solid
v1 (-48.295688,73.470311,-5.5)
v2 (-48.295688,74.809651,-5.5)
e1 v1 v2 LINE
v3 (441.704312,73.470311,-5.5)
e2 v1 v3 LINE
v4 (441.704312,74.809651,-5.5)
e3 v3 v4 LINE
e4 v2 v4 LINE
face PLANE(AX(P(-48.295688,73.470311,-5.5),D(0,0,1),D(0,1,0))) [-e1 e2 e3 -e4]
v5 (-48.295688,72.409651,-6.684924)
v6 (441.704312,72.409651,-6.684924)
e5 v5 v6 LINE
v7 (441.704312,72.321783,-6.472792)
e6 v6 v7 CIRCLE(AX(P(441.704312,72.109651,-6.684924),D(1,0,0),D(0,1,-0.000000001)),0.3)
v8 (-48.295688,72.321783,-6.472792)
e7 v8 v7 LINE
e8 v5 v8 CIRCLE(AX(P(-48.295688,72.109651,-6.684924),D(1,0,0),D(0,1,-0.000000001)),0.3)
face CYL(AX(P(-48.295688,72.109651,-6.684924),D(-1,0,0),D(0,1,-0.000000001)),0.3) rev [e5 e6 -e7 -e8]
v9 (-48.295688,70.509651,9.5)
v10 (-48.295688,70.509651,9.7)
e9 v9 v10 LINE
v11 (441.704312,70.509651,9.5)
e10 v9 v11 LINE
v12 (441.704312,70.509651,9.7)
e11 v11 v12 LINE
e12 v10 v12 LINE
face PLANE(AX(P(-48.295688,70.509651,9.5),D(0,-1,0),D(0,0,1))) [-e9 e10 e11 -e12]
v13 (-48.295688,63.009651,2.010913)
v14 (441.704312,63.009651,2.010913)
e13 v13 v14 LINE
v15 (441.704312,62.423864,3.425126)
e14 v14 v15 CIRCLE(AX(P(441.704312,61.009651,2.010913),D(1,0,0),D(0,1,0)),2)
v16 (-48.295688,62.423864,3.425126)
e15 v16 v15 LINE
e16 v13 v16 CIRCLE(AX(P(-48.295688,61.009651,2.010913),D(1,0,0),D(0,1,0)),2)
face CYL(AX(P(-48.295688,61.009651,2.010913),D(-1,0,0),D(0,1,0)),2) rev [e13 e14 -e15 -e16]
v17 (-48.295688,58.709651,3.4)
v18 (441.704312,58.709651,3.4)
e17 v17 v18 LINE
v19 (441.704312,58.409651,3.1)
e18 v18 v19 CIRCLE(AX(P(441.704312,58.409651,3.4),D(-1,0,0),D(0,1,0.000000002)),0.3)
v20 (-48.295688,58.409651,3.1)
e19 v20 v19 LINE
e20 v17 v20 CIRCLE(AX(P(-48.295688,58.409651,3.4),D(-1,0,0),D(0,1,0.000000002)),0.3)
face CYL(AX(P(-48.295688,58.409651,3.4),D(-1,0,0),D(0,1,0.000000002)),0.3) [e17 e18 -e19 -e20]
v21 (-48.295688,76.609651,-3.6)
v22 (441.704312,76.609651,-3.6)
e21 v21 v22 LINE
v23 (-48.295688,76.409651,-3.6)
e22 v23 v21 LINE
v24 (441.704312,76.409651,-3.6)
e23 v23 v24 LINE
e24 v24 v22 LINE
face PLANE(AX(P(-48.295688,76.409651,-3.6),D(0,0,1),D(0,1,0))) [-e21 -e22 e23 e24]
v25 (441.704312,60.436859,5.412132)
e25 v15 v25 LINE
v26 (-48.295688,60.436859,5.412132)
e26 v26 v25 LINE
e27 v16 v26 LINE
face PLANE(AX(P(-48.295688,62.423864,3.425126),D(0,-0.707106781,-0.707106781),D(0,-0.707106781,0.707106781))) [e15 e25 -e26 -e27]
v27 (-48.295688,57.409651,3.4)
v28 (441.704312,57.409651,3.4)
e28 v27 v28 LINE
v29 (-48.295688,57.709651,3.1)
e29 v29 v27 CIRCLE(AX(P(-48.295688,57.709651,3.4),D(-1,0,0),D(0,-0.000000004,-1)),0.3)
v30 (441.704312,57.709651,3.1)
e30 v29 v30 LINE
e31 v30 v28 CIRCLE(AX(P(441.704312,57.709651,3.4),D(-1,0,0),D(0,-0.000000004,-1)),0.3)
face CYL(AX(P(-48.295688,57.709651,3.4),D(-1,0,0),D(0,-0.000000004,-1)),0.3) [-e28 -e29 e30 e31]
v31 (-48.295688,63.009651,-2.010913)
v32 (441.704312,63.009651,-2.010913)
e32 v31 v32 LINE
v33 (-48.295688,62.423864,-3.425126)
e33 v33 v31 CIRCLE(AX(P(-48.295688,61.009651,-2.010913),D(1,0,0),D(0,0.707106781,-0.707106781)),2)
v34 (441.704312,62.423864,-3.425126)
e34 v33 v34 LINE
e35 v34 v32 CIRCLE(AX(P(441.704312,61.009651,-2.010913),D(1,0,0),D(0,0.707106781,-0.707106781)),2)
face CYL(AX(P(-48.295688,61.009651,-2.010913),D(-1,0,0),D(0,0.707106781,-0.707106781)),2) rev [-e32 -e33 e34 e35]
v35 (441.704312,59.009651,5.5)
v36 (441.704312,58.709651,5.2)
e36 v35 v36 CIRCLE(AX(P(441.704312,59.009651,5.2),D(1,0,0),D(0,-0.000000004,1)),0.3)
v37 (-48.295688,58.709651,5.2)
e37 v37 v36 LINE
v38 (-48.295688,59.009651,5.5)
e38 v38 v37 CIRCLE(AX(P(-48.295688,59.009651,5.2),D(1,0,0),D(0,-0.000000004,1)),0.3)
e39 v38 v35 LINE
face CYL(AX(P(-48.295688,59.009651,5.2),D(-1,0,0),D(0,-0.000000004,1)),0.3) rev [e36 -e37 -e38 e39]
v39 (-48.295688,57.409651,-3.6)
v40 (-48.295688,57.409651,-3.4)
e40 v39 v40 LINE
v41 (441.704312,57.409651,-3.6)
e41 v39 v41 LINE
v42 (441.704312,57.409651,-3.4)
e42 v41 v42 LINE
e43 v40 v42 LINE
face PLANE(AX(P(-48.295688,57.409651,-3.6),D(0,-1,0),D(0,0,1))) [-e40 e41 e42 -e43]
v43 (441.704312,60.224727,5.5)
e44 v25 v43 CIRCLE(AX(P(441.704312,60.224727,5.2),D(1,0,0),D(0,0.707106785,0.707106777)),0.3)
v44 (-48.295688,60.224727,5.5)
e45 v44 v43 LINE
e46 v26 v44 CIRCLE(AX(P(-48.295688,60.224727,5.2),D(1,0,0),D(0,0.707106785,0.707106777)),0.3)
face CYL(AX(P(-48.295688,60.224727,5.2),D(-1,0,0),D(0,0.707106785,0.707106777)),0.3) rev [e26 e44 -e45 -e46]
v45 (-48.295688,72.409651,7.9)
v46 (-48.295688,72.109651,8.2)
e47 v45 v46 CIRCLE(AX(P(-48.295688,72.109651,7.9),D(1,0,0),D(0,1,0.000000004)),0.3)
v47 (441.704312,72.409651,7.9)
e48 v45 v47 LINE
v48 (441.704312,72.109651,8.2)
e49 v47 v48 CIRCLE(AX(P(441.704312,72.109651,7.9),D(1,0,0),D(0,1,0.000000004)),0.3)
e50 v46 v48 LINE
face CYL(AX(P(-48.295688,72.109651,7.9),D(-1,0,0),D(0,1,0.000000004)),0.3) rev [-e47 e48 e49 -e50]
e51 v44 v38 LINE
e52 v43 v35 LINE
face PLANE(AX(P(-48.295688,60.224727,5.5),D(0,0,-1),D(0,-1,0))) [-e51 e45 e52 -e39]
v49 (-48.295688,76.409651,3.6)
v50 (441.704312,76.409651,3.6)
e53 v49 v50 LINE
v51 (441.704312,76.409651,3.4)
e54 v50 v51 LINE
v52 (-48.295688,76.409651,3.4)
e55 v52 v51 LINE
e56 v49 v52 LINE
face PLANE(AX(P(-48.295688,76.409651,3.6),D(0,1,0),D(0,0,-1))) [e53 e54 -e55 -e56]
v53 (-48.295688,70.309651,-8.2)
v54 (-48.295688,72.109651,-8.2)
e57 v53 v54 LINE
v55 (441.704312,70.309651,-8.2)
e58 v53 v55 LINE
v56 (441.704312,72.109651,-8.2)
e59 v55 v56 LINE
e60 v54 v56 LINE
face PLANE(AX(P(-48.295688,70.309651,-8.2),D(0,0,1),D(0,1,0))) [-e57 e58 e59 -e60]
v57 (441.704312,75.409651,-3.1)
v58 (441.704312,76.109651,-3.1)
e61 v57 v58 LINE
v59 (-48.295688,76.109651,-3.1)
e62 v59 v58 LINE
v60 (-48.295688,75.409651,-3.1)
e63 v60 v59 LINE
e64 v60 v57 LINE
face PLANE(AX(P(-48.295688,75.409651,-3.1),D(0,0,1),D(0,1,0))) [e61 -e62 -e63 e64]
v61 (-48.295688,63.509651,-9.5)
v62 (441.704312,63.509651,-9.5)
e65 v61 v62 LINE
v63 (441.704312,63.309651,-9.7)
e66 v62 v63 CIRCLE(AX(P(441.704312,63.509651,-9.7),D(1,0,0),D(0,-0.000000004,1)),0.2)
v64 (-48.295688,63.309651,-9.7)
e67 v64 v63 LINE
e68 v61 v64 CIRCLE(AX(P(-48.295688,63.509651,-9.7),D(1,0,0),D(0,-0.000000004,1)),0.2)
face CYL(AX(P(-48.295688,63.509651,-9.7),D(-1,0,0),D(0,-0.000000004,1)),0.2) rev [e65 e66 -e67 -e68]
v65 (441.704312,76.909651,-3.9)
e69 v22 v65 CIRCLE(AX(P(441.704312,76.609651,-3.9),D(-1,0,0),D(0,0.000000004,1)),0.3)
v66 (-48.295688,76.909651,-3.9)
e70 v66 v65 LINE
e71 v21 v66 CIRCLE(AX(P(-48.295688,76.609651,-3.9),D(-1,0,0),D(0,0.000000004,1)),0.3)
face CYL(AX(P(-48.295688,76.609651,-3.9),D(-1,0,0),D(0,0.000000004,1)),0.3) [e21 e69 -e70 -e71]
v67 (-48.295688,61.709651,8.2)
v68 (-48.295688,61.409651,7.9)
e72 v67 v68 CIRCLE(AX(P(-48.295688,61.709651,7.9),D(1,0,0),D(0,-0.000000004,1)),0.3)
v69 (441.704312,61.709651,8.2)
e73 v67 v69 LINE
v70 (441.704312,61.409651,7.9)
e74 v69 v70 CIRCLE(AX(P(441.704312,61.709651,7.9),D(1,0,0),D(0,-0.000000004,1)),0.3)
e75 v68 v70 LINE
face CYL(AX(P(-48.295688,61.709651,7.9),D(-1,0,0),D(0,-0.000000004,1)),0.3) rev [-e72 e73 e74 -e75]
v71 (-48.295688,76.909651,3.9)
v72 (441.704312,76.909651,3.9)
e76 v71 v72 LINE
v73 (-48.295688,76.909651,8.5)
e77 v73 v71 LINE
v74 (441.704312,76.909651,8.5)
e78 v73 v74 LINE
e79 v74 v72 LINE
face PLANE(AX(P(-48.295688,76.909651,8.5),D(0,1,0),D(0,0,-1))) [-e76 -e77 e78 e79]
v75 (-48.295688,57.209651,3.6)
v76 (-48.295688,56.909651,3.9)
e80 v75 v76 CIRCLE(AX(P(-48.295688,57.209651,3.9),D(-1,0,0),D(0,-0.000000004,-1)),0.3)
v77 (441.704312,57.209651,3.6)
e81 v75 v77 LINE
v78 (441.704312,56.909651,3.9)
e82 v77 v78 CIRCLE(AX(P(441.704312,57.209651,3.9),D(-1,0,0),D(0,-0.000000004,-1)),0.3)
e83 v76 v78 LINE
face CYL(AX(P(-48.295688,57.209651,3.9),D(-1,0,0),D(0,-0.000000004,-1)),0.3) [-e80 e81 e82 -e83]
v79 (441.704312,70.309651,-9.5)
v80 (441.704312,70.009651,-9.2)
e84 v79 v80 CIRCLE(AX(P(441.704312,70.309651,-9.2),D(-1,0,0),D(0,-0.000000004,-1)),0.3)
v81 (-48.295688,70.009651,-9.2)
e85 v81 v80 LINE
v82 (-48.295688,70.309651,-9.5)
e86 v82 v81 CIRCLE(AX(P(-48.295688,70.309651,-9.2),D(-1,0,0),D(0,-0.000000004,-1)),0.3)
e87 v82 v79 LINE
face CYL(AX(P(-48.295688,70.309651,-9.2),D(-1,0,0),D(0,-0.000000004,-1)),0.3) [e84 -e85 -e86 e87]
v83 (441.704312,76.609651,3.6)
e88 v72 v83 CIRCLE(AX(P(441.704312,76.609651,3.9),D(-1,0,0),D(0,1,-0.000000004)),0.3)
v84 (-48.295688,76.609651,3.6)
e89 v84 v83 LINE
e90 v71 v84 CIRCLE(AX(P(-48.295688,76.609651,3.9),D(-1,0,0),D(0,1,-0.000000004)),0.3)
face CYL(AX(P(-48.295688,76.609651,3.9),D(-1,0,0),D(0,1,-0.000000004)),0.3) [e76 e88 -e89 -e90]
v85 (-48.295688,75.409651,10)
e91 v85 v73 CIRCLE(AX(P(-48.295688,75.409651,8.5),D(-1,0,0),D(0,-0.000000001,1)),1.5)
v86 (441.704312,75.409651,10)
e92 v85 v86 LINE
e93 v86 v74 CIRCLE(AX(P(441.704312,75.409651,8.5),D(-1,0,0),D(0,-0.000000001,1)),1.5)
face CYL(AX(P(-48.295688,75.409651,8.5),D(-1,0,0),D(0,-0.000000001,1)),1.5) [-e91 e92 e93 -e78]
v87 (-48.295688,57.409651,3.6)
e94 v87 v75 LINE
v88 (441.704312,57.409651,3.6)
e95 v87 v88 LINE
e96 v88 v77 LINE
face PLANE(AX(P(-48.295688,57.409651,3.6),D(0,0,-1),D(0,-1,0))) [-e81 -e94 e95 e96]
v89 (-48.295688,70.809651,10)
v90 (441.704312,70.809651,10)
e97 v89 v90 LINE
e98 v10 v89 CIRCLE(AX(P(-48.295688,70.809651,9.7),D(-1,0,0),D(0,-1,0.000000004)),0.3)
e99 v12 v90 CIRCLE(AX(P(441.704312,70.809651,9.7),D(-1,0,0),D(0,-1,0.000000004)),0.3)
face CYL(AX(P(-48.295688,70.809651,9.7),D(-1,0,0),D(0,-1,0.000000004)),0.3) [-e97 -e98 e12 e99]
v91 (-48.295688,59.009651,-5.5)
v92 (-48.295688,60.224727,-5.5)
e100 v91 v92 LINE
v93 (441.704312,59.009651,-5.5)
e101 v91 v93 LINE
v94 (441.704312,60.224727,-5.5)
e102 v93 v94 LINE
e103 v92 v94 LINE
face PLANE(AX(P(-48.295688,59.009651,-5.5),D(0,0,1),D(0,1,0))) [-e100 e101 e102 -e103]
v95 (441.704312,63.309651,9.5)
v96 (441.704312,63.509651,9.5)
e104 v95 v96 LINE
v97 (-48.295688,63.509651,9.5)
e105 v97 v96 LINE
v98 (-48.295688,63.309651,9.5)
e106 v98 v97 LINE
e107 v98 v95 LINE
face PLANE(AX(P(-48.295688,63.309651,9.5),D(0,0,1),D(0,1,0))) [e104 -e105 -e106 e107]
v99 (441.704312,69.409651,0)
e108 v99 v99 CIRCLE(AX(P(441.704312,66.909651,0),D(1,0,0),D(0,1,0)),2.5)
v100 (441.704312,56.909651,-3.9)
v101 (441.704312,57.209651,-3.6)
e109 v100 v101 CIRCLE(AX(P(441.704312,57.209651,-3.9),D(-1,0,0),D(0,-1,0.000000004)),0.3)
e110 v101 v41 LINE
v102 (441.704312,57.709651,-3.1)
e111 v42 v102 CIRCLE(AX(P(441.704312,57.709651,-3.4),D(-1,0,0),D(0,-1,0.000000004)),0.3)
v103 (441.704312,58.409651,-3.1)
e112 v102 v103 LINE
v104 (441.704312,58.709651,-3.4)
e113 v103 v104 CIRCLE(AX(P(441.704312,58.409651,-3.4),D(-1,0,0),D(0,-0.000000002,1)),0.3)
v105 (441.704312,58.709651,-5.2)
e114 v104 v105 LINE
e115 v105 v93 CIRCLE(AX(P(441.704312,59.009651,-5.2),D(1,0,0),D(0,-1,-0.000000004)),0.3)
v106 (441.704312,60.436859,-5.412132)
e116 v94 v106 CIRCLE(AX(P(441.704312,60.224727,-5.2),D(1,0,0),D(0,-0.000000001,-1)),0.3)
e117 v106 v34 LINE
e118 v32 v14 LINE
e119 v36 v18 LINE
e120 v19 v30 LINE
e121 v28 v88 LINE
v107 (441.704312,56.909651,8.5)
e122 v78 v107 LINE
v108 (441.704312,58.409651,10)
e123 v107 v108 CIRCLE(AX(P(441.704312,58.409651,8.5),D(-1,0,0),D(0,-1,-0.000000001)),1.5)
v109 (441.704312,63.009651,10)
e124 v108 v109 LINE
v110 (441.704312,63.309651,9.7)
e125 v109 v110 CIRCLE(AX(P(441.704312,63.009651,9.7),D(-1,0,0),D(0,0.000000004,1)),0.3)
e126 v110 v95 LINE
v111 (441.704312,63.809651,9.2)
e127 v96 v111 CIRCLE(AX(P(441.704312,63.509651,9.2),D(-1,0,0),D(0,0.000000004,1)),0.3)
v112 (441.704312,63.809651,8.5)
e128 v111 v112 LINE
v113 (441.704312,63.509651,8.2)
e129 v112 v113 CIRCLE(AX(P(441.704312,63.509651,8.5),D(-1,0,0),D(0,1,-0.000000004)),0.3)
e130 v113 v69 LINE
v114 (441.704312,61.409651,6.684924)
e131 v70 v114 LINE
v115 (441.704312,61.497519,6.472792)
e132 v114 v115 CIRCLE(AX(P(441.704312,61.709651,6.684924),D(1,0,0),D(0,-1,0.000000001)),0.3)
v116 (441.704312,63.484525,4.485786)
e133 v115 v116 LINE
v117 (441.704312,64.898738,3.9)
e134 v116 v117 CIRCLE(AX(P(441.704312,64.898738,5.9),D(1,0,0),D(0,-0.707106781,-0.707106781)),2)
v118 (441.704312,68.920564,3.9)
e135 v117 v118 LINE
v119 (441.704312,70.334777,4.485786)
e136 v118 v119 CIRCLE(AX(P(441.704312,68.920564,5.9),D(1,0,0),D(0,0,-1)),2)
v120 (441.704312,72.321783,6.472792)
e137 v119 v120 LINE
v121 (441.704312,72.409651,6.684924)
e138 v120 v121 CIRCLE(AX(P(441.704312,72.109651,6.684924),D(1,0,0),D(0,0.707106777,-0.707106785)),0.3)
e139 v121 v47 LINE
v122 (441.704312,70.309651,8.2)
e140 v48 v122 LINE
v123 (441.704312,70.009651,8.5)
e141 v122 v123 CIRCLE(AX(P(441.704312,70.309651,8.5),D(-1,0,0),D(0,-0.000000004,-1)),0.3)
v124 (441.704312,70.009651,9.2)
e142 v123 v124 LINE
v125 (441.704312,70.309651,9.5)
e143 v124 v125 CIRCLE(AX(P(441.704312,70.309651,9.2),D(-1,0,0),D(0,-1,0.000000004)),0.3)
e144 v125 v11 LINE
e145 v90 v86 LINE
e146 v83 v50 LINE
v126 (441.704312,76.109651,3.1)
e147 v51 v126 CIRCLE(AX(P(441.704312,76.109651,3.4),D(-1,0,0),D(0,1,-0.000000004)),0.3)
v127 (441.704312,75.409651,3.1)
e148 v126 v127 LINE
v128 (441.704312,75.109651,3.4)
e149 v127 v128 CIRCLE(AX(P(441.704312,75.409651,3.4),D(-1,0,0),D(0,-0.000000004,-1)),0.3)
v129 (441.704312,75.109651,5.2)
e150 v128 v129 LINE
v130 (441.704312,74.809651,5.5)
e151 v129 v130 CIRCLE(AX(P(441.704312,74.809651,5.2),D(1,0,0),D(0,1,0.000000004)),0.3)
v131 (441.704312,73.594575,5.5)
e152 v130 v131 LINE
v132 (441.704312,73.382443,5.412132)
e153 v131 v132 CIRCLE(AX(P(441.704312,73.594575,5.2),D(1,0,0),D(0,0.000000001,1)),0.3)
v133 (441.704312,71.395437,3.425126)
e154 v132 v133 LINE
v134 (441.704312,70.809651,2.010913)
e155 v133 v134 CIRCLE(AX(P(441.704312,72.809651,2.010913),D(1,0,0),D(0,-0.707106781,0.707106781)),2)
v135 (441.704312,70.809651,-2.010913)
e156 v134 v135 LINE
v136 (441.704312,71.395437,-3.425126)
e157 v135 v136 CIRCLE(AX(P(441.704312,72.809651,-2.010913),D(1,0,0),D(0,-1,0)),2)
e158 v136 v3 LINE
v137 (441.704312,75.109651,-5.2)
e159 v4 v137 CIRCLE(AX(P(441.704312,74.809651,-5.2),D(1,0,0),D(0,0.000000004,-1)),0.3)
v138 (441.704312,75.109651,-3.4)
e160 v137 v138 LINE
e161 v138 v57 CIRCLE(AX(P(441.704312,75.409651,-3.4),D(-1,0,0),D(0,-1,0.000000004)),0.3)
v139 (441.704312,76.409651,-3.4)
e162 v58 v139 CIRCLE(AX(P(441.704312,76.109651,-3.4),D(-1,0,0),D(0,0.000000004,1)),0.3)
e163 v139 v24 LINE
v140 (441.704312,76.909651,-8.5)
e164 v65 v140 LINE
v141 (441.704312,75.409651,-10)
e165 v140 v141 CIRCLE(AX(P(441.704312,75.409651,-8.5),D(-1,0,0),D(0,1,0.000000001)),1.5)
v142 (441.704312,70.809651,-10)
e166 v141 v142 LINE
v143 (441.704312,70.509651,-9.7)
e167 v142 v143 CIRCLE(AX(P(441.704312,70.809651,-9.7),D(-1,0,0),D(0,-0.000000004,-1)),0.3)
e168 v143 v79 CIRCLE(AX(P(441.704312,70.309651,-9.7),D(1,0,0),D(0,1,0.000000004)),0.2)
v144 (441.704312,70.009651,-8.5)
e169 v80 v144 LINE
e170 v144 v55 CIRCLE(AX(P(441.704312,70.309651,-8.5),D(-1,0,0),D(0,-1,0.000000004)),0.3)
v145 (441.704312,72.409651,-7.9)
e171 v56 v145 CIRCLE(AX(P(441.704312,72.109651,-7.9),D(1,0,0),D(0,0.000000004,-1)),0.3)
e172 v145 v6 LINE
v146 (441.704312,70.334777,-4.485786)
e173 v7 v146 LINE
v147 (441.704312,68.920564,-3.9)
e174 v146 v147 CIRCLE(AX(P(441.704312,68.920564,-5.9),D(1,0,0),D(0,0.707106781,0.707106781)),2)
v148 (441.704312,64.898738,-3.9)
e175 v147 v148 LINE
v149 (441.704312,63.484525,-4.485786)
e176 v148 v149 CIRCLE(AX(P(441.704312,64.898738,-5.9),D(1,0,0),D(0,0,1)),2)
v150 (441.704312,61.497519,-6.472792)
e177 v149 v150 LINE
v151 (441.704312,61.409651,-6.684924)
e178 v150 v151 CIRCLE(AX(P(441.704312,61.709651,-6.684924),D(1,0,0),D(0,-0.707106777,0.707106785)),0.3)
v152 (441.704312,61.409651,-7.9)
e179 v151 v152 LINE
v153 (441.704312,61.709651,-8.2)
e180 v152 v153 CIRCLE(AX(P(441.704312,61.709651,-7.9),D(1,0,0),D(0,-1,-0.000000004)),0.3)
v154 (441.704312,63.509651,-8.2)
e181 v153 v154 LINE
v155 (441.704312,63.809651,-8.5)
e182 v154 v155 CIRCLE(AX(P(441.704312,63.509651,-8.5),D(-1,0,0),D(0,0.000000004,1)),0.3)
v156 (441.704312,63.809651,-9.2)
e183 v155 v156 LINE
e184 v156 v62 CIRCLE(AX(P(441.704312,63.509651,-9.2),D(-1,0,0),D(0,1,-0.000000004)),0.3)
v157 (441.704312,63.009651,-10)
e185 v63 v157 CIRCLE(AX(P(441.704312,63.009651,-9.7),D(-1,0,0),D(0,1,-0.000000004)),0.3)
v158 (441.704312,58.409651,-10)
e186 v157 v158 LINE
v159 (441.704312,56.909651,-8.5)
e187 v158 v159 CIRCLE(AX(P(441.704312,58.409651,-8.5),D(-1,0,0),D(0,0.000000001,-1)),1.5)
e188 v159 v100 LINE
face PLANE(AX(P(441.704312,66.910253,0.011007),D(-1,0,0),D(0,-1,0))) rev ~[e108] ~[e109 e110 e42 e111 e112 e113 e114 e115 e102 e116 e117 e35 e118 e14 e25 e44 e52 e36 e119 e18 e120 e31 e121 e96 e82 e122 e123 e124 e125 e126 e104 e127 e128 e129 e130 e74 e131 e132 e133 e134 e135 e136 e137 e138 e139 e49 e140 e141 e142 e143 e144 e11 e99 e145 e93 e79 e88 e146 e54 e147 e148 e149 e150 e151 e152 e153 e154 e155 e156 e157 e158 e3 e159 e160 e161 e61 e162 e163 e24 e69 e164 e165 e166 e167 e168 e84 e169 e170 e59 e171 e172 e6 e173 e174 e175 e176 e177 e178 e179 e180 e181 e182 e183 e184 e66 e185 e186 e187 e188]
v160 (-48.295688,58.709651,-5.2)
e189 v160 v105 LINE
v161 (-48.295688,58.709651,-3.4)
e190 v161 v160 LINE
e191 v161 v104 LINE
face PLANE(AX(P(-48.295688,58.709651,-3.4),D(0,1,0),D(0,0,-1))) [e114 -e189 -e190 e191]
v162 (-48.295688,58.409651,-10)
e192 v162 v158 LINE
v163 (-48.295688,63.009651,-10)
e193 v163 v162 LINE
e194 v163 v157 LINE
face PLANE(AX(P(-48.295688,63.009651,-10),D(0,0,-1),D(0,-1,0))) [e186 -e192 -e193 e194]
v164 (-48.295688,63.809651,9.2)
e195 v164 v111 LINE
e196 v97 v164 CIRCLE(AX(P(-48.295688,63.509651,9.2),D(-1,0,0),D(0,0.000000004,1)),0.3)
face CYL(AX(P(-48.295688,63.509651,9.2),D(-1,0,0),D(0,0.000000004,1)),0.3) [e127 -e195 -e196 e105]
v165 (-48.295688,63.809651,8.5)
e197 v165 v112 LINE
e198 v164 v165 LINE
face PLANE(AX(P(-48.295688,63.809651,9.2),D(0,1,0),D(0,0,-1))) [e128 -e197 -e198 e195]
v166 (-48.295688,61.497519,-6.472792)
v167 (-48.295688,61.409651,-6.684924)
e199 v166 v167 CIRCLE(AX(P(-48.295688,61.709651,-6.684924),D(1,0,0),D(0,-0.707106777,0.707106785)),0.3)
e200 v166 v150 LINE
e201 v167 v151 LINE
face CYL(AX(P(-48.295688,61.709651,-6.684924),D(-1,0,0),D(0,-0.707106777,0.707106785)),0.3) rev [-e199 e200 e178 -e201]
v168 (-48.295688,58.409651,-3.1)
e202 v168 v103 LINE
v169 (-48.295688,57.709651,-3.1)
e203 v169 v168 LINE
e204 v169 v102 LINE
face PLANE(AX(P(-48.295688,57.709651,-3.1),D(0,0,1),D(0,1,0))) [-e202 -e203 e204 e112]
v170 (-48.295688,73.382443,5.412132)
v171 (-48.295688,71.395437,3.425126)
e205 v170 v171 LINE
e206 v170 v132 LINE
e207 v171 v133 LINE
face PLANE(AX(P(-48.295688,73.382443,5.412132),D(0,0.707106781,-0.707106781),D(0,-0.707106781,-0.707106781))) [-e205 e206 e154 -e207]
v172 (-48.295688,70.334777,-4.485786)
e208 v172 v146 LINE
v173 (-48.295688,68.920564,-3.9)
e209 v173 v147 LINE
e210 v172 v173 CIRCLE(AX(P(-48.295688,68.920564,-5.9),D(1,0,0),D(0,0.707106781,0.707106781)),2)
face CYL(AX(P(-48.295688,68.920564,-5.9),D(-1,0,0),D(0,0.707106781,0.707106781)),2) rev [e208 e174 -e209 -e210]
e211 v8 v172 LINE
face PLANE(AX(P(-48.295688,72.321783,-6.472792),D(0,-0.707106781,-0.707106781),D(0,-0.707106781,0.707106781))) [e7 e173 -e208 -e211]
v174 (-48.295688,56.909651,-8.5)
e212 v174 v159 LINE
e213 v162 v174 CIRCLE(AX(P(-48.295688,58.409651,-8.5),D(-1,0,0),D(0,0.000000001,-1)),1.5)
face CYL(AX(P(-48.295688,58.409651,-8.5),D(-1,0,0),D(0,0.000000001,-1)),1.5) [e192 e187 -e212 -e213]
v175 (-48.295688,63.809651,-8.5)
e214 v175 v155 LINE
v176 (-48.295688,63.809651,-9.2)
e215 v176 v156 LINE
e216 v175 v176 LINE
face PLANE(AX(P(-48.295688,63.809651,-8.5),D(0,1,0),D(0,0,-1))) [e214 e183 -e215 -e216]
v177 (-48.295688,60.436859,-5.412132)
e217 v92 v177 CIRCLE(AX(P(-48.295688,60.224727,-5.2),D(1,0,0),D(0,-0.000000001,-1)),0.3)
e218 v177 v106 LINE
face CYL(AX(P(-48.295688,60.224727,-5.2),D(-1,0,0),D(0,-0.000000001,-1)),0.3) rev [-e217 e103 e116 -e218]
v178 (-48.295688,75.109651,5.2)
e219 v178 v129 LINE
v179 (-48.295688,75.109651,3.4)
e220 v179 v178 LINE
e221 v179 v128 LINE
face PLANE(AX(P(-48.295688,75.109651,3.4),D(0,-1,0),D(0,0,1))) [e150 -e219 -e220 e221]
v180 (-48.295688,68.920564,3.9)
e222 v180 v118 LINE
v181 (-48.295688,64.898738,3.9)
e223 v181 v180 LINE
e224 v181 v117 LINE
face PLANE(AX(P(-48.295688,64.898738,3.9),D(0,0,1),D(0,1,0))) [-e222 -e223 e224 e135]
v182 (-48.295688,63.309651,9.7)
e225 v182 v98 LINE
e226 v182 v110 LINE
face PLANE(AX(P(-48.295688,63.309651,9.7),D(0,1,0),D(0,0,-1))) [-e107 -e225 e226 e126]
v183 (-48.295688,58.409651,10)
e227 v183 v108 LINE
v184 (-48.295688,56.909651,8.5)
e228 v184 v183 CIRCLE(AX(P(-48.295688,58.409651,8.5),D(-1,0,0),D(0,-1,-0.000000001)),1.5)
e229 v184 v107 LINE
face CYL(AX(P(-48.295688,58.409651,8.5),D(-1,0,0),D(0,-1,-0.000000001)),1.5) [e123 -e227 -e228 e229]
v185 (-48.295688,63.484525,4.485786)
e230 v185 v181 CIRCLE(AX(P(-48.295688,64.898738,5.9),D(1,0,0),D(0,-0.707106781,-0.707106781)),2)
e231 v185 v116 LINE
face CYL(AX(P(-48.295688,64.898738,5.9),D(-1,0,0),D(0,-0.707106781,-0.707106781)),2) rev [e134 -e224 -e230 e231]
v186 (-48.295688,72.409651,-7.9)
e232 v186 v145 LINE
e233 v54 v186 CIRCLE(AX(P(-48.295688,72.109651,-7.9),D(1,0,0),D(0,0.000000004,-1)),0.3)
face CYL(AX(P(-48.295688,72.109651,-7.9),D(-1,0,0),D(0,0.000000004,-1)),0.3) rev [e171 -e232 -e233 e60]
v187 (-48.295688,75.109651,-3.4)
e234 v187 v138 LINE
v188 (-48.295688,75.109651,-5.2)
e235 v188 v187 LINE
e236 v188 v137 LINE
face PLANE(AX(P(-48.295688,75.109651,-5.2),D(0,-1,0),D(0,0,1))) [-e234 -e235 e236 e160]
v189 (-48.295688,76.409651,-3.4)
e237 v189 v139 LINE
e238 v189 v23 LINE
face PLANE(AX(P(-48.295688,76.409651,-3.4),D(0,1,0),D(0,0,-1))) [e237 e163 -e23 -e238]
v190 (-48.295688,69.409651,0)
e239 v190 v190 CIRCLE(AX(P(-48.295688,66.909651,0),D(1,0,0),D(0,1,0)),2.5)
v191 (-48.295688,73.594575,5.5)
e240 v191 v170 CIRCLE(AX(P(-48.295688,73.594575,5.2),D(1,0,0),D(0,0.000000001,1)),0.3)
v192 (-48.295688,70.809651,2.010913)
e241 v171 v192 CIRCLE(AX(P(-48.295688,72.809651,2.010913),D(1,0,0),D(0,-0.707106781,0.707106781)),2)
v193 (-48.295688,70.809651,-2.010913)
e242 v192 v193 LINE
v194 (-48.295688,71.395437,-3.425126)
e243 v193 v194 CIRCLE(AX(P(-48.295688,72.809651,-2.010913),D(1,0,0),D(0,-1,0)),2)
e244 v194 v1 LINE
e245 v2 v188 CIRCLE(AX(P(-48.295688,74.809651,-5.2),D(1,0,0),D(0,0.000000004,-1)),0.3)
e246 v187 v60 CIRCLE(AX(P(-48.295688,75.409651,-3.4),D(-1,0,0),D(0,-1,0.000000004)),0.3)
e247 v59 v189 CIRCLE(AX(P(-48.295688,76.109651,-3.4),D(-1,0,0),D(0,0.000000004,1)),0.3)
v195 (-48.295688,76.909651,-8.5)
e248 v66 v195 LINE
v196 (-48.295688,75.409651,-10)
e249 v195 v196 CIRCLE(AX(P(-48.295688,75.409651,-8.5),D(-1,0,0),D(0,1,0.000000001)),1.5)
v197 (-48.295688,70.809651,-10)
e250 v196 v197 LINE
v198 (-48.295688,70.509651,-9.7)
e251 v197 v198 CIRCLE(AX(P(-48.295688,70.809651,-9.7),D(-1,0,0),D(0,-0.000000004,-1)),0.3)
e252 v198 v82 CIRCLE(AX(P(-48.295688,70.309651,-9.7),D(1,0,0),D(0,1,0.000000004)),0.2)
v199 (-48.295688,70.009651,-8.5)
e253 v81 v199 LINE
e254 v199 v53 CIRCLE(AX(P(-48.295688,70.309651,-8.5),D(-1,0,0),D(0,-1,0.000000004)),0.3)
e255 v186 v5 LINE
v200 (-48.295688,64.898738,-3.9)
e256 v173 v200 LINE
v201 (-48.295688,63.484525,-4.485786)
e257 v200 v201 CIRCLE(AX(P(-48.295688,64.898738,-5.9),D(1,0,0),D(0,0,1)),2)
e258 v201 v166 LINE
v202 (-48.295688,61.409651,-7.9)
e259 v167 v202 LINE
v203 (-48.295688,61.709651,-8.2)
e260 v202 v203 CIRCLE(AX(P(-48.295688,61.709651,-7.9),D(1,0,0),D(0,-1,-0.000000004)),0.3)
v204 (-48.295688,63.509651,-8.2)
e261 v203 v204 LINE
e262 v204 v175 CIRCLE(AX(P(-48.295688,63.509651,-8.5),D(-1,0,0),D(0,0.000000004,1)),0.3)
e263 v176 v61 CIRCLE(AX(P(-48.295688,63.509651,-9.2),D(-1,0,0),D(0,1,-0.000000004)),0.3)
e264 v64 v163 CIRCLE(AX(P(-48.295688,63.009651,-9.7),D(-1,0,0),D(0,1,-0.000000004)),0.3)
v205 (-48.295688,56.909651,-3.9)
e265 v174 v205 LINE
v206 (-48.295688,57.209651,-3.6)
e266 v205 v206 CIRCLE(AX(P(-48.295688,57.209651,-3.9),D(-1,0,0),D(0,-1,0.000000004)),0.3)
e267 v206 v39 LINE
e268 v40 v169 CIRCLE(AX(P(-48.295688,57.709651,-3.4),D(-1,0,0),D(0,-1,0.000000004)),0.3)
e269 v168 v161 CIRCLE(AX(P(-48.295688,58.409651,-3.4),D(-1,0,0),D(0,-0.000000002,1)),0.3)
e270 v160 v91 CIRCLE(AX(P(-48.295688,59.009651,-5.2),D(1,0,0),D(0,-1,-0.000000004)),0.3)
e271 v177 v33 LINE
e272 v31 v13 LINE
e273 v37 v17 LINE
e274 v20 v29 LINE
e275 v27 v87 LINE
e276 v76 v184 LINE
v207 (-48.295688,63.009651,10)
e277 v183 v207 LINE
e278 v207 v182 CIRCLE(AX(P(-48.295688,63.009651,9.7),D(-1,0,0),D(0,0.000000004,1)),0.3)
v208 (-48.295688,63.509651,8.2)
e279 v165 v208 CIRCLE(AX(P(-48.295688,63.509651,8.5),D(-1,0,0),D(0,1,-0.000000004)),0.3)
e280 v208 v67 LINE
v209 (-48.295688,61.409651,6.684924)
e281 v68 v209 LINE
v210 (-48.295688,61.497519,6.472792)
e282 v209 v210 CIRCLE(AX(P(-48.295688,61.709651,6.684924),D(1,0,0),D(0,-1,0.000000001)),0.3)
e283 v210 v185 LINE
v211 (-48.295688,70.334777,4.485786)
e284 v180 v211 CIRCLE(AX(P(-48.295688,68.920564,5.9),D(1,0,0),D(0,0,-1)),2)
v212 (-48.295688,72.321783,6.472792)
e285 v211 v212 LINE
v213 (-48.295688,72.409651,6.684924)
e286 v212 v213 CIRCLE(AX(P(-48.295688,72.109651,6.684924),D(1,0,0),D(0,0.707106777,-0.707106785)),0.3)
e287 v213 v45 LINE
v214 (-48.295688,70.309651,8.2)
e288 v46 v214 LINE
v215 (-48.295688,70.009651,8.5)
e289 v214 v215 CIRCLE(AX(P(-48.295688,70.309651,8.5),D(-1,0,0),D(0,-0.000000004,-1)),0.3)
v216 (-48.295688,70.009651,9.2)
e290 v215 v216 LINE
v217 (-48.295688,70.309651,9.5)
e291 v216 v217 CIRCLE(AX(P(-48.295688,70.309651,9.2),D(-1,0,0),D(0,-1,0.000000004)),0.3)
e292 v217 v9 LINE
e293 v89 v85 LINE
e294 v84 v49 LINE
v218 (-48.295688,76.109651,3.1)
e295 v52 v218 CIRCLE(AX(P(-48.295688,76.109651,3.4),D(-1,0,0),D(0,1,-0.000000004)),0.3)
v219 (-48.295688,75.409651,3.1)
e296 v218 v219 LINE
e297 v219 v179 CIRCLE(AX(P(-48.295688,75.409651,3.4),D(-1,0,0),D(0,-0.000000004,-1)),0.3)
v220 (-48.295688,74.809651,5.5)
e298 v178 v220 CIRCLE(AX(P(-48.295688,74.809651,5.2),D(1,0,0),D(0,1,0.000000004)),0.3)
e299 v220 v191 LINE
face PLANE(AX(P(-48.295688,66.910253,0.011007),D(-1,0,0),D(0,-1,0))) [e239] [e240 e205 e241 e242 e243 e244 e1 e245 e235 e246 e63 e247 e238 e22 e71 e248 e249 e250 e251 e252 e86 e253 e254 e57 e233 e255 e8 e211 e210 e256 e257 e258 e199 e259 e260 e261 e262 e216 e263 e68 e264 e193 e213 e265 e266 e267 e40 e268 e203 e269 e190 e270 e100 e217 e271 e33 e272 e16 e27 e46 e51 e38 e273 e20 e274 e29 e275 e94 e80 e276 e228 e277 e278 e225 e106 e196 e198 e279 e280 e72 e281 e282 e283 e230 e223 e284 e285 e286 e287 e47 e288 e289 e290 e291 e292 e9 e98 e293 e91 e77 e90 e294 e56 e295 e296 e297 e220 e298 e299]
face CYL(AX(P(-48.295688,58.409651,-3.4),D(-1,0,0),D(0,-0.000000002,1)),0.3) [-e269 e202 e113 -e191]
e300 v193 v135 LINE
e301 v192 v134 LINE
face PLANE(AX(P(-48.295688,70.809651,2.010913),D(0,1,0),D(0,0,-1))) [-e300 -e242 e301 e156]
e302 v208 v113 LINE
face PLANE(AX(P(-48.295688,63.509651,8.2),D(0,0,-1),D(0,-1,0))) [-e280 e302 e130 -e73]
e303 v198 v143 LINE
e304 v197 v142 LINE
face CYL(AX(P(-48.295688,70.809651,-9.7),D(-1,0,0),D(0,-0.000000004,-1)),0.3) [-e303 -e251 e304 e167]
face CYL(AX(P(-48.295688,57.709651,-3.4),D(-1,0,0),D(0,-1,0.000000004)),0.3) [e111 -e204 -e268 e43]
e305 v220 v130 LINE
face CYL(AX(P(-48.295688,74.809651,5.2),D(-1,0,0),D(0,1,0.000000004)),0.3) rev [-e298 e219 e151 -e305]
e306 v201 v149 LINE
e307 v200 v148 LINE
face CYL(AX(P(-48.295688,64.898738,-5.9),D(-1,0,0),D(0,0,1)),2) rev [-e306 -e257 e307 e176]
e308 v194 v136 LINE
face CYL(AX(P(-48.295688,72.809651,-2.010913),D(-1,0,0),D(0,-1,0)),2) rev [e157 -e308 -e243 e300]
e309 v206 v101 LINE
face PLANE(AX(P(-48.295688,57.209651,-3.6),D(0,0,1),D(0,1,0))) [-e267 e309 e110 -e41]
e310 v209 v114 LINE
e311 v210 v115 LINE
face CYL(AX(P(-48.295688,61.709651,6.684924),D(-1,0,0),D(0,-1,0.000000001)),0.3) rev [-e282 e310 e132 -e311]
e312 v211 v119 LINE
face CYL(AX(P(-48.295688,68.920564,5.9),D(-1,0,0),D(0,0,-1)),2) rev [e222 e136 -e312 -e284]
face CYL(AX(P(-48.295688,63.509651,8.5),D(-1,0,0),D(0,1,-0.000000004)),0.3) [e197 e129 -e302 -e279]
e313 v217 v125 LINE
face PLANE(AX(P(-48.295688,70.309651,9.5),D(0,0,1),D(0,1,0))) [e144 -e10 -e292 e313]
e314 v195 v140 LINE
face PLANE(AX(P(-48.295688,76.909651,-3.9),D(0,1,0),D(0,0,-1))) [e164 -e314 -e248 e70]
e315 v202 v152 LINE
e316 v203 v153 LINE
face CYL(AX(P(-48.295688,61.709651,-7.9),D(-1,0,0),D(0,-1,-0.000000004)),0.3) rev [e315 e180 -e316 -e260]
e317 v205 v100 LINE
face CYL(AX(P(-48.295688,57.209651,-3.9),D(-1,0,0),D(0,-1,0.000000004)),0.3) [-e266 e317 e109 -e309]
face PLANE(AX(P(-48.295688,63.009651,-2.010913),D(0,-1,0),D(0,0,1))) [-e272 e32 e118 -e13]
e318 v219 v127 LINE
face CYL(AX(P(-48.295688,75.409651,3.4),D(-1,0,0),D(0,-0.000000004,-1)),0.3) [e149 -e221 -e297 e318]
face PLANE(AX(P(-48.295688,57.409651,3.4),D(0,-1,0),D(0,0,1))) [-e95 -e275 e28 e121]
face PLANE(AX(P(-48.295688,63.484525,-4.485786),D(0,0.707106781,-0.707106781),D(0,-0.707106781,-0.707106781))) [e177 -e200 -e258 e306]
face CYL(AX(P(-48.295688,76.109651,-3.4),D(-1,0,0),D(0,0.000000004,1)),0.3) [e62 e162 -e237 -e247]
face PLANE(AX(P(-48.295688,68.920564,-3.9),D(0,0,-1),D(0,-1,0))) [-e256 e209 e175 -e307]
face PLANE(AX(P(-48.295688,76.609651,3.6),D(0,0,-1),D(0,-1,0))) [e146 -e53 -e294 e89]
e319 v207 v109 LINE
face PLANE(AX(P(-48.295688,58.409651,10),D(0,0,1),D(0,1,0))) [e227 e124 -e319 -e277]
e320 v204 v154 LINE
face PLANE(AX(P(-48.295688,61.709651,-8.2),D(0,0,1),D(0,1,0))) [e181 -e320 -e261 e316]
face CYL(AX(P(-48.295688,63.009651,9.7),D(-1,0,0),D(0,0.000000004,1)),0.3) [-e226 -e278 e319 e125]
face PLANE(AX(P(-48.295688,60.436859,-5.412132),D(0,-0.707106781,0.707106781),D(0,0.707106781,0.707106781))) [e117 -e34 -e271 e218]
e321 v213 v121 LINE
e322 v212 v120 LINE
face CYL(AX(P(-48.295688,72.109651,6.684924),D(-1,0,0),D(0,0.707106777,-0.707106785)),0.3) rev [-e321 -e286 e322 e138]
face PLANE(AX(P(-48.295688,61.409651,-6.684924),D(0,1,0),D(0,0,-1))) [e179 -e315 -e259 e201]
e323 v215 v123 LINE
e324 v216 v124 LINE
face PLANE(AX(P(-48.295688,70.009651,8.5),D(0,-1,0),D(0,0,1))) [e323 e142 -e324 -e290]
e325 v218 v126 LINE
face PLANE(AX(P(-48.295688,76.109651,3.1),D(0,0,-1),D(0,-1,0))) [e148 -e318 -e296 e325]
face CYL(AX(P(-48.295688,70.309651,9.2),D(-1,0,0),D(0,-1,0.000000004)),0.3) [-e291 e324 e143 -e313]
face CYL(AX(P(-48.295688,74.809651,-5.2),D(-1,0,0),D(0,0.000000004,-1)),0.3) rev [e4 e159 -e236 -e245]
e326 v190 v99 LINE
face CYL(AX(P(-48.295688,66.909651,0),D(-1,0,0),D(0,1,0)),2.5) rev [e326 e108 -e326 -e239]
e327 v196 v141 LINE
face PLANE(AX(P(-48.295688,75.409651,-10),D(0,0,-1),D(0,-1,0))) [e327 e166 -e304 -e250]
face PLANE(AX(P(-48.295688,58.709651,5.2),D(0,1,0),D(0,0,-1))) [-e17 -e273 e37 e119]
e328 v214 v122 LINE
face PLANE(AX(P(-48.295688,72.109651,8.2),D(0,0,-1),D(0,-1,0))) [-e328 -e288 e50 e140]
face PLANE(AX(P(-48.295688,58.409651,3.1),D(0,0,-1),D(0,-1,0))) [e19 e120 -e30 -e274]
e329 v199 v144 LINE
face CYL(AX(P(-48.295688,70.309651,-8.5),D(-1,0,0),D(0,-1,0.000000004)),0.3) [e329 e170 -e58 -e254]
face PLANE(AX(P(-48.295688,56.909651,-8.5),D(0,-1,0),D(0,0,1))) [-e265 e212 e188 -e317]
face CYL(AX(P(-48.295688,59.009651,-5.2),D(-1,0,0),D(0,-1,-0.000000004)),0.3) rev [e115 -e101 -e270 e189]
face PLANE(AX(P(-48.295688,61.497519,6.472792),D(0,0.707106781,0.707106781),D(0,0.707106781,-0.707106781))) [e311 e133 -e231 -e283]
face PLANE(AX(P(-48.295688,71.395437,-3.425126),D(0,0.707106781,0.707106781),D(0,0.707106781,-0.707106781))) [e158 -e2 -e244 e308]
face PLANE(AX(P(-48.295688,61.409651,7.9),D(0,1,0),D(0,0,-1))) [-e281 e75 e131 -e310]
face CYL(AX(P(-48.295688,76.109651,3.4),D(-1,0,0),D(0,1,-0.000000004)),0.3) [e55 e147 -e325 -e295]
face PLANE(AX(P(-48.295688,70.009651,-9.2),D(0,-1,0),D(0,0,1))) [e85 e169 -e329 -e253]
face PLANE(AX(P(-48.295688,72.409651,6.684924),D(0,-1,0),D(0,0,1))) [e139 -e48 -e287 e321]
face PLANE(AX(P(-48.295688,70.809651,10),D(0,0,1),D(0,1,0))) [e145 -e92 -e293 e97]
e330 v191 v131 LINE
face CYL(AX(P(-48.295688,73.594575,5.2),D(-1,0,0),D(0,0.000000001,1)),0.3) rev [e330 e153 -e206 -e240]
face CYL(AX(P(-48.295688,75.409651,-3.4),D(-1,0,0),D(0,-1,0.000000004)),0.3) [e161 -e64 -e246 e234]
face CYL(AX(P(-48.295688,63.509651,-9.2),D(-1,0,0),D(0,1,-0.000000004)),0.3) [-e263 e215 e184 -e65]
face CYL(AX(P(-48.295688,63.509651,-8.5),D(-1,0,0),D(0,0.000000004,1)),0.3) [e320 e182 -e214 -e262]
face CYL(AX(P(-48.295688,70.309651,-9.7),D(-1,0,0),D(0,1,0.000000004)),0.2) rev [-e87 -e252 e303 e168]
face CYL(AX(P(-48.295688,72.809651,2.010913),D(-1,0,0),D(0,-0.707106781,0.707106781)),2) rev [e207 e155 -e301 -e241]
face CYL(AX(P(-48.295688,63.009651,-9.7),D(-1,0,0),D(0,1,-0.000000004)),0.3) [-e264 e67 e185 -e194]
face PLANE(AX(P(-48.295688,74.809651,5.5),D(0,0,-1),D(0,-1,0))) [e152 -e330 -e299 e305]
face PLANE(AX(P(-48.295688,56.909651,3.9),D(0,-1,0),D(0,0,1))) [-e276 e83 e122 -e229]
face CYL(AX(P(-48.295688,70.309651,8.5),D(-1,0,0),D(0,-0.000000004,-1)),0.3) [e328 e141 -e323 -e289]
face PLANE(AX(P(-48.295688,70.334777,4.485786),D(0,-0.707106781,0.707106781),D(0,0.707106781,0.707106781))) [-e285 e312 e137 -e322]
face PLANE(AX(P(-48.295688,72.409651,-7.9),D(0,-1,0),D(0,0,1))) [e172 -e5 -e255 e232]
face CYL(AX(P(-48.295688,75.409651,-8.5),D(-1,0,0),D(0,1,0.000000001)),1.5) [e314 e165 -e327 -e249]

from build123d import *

# Parameters (mm, degrees)
SKETCH_11_R         = 2.5
MEMBER_2020_1_DEPTH = 490


with BuildPart() as part:
    # 草图11 → Member 2020_1 (new body)
    with BuildSketch(Plane(origin=(-48.295687885, 66.909650924, 0), x_dir=(0, 1, 0), z_dir=(1, 0, 0))):
        with BuildLine():
            Line((3.9, 0), (3.9, -2.010912703))
            ThreePointArc((3.9, -2.010912703), (4.052240935, -2.776279568), (4.485786438, -3.425126266))
            Line((4.485786438, -3.425126266), (6.560660172, -5.5))
            Line((6.560660172, -5.5), (7.9, -5.5))
            ThreePointArc((7.9, -5.5), (8.112132034, -5.412132034), (8.2, -5.2))
            Line((8.2, -5.2), (8.2, -3.4))
            ThreePointArc((8.2, -3.4), (8.287867966, -3.187867966), (8.5, -3.1))
            Line((8.5, -3.1), (9.2, -3.1))
            ThreePointArc((9.2, -3.1), (9.412132034, -3.187867966), (9.5, -3.4))
            Line((9.5, -3.4), (9.5, -3.6))
            Line((9.5, -3.6), (9.7, -3.6))
            ThreePointArc((9.7, -3.6), (9.912132034, -3.687867966), (10, -3.9))
            Line((10, -3.9), (10, -8.5))
            ThreePointArc((10, -8.5), (9.560660172, -9.560660172), (8.5, -10))
            Line((8.5, -10), (3.9, -10))
            ThreePointArc((3.9, -10), (3.687867966, -9.912132034), (3.6, -9.7))
            ThreePointArc((3.6, -9.7), (3.541421356, -9.558578644), (3.4, -9.5))
            ThreePointArc((3.4, -9.5), (3.187867966, -9.412132034), (3.1, -9.2))
            Line((3.1, -9.2), (3.1, -8.5))
            ThreePointArc((3.1, -8.5), (3.187867966, -8.287867966), (3.4, -8.2))
            Line((3.4, -8.2), (5.2, -8.2))
            ThreePointArc((5.2, -8.2), (5.412132034, -8.112132034), (5.5, -7.9))
            Line((5.5, -7.9), (5.5, -6.68492424))
            ThreePointArc((5.5, -6.68492424), (5.47716386, -6.570119211), (5.412132034, -6.472792206))
            Line((5.412132034, -6.472792206), (3.425126266, -4.485786438))
            ThreePointArc((3.425126266, -4.485786438), (2.776279568, -4.052240935), (2.010912703, -3.9))
            Line((2.010912703, -3.9), (0, -3.9))
            Line((0, -3.9), (-2.010912703, -3.9))
            ThreePointArc((-2.010912703, -3.9), (-2.776279568, -4.052240935), (-3.425126266, -4.485786438))
            Line((-3.425126266, -4.485786438), (-5.412132034, -6.472792206))
            ThreePointArc((-5.412132034, -6.472792206), (-5.47716386, -6.570119211), (-5.5, -6.68492424))
            Line((-5.5, -6.68492424), (-5.5, -7.9))
            ThreePointArc((-5.5, -7.9), (-5.412132034, -8.112132034), (-5.2, -8.2))
            Line((-5.2, -8.2), (-3.4, -8.2))
            ThreePointArc((-3.4, -8.2), (-3.187867966, -8.287867966), (-3.1, -8.5))
            Line((-3.1, -8.5), (-3.1, -9.2))
            ThreePointArc((-3.1, -9.2), (-3.187867966, -9.412132034), (-3.4, -9.5))
            ThreePointArc((-3.4, -9.5), (-3.541421356, -9.558578644), (-3.6, -9.7))
            ThreePointArc((-3.6, -9.7), (-3.687867966, -9.912132034), (-3.9, -10))
            Line((-3.9, -10), (-8.5, -10))
            ThreePointArc((-8.5, -10), (-9.560660172, -9.560660172), (-10, -8.5))
            Line((-10, -8.5), (-10, -3.9))
            ThreePointArc((-10, -3.9), (-9.912132034, -3.687867966), (-9.7, -3.6))
            Line((-9.7, -3.6), (-9.5, -3.6))
            Line((-9.5, -3.6), (-9.5, -3.4))
            ThreePointArc((-9.5, -3.4), (-9.412132034, -3.187867966), (-9.2, -3.1))
            Line((-9.2, -3.1), (-8.5, -3.1))
            ThreePointArc((-8.5, -3.1), (-8.287867965, -3.187867966), (-8.2, -3.4))
            Line((-8.2, -3.4), (-8.2, -5.2))
            ThreePointArc((-8.2, -5.2), (-8.112132034, -5.412132034), (-7.9, -5.5))
            Line((-7.9, -5.5), (-6.68492424, -5.5))
            ThreePointArc((-6.68492424, -5.5), (-6.570119211, -5.47716386), (-6.472792206, -5.412132034))
            Line((-6.472792206, -5.412132034), (-4.485786438, -3.425126266))
            ThreePointArc((-4.485786438, -3.425126266), (-4.052240935, -2.776279568), (-3.9, -2.010912703))
            Line((-3.9, -2.010912703), (-3.9, 0))
            Line((-3.9, 0), (-3.9, 2.010912703))
            ThreePointArc((-3.9, 2.010912703), (-4.052240935, 2.776279568), (-4.485786438, 3.425126266))
            Line((-4.485786438, 3.425126266), (-6.472792206, 5.412132034))
            ThreePointArc((-6.472792206, 5.412132034), (-6.570119211, 5.47716386), (-6.68492424, 5.5))
            Line((-6.68492424, 5.5), (-7.9, 5.5))
            ThreePointArc((-7.9, 5.5), (-8.112132034, 5.412132034), (-8.2, 5.2))
            Line((-8.2, 5.2), (-8.2, 3.4))
            ThreePointArc((-8.2, 3.4), (-8.287867965, 3.187867966), (-8.5, 3.1))
            Line((-8.5, 3.1), (-9.2, 3.1))
            ThreePointArc((-9.2, 3.1), (-9.412132034, 3.187867966), (-9.5, 3.4))
            Line((-9.5, 3.4), (-9.5, 3.6))
            Line((-9.5, 3.6), (-9.7, 3.6))
            ThreePointArc((-9.7, 3.6), (-9.912132034, 3.687867966), (-10, 3.9))
            Line((-10, 3.9), (-10, 8.5))
            ThreePointArc((-10, 8.5), (-9.560660172, 9.560660172), (-8.5, 10))
            Line((-8.5, 10), (-3.9, 10))
            ThreePointArc((-3.9, 10), (-3.687867966, 9.912132034), (-3.6, 9.7))
            Line((-3.6, 9.7), (-3.6, 9.5))
            Line((-3.6, 9.5), (-3.4, 9.5))
            ThreePointArc((-3.4, 9.5), (-3.187867966, 9.412132034), (-3.1, 9.2))
            Line((-3.1, 9.2), (-3.1, 8.5))
            ThreePointArc((-3.1, 8.5), (-3.187867966, 8.287867966), (-3.4, 8.2))
            Line((-3.4, 8.2), (-5.2, 8.2))
            ThreePointArc((-5.2, 8.2), (-5.412132034, 8.112132034), (-5.5, 7.9))
            Line((-5.5, 7.9), (-5.5, 6.68492424))
            ThreePointArc((-5.5, 6.68492424), (-5.47716386, 6.570119211), (-5.412132034, 6.472792206))
            Line((-5.412132034, 6.472792206), (-3.425126266, 4.485786438))
            ThreePointArc((-3.425126266, 4.485786438), (-2.776279568, 4.052240935), (-2.010912703, 3.9))
            Line((-2.010912703, 3.9), (0, 3.9))
            Line((0, 3.9), (2.010912703, 3.9))
            ThreePointArc((2.010912703, 3.9), (2.776279568, 4.052240935), (3.425126266, 4.485786438))
            Line((3.425126266, 4.485786438), (5.412132034, 6.472792206))
            ThreePointArc((5.412132034, 6.472792206), (5.47716386, 6.570119211), (5.5, 6.68492424))
            Line((5.5, 6.68492424), (5.5, 7.9))
            ThreePointArc((5.5, 7.9), (5.412132034, 8.112132034), (5.2, 8.2))
            Line((5.2, 8.2), (3.4, 8.2))
            ThreePointArc((3.4, 8.2), (3.187867966, 8.287867966), (3.1, 8.5))
            Line((3.1, 8.5), (3.1, 9.2))
            ThreePointArc((3.1, 9.2), (3.187867966, 9.412132034), (3.4, 9.5))
            Line((3.4, 9.5), (3.6, 9.5))
            Line((3.6, 9.5), (3.6, 9.7))
            ThreePointArc((3.6, 9.7), (3.687867966, 9.912132034), (3.9, 10))
            Line((3.9, 10), (8.5, 10))
            ThreePointArc((8.5, 10), (9.560660172, 9.560660172), (10, 8.5))
            Line((10, 8.5), (10, 3.9))
            ThreePointArc((10, 3.9), (9.912132034, 3.687867966), (9.7, 3.6))
            Line((9.7, 3.6), (9.5, 3.6))
            Line((9.5, 3.6), (9.5, 3.4))
            ThreePointArc((9.5, 3.4), (9.412132034, 3.187867966), (9.2, 3.1))
            Line((9.2, 3.1), (8.5, 3.1))
            ThreePointArc((8.5, 3.1), (8.287867966, 3.187867966), (8.2, 3.4))
            Line((8.2, 3.4), (8.2, 5.2))
            ThreePointArc((8.2, 5.2), (8.112132034, 5.412132034), (7.9, 5.5))
            Line((7.9, 5.5), (6.68492424, 5.5))
            ThreePointArc((6.68492424, 5.5), (6.570119211, 5.47716386), (6.472792206, 5.412132034))
            Line((6.472792206, 5.412132034), (4.485786438, 3.425126266))
            ThreePointArc((4.485786438, 3.425126266), (4.052240935, 2.776279568), (3.9, 2.010912703))
            Line((3.9, 2.010912703), (3.9, 0))
        make_face()
        Circle(SKETCH_11_R, mode=Mode.SUBTRACT)
    extrude(amount=MEMBER_2020_1_DEPTH)


solid = part.part
